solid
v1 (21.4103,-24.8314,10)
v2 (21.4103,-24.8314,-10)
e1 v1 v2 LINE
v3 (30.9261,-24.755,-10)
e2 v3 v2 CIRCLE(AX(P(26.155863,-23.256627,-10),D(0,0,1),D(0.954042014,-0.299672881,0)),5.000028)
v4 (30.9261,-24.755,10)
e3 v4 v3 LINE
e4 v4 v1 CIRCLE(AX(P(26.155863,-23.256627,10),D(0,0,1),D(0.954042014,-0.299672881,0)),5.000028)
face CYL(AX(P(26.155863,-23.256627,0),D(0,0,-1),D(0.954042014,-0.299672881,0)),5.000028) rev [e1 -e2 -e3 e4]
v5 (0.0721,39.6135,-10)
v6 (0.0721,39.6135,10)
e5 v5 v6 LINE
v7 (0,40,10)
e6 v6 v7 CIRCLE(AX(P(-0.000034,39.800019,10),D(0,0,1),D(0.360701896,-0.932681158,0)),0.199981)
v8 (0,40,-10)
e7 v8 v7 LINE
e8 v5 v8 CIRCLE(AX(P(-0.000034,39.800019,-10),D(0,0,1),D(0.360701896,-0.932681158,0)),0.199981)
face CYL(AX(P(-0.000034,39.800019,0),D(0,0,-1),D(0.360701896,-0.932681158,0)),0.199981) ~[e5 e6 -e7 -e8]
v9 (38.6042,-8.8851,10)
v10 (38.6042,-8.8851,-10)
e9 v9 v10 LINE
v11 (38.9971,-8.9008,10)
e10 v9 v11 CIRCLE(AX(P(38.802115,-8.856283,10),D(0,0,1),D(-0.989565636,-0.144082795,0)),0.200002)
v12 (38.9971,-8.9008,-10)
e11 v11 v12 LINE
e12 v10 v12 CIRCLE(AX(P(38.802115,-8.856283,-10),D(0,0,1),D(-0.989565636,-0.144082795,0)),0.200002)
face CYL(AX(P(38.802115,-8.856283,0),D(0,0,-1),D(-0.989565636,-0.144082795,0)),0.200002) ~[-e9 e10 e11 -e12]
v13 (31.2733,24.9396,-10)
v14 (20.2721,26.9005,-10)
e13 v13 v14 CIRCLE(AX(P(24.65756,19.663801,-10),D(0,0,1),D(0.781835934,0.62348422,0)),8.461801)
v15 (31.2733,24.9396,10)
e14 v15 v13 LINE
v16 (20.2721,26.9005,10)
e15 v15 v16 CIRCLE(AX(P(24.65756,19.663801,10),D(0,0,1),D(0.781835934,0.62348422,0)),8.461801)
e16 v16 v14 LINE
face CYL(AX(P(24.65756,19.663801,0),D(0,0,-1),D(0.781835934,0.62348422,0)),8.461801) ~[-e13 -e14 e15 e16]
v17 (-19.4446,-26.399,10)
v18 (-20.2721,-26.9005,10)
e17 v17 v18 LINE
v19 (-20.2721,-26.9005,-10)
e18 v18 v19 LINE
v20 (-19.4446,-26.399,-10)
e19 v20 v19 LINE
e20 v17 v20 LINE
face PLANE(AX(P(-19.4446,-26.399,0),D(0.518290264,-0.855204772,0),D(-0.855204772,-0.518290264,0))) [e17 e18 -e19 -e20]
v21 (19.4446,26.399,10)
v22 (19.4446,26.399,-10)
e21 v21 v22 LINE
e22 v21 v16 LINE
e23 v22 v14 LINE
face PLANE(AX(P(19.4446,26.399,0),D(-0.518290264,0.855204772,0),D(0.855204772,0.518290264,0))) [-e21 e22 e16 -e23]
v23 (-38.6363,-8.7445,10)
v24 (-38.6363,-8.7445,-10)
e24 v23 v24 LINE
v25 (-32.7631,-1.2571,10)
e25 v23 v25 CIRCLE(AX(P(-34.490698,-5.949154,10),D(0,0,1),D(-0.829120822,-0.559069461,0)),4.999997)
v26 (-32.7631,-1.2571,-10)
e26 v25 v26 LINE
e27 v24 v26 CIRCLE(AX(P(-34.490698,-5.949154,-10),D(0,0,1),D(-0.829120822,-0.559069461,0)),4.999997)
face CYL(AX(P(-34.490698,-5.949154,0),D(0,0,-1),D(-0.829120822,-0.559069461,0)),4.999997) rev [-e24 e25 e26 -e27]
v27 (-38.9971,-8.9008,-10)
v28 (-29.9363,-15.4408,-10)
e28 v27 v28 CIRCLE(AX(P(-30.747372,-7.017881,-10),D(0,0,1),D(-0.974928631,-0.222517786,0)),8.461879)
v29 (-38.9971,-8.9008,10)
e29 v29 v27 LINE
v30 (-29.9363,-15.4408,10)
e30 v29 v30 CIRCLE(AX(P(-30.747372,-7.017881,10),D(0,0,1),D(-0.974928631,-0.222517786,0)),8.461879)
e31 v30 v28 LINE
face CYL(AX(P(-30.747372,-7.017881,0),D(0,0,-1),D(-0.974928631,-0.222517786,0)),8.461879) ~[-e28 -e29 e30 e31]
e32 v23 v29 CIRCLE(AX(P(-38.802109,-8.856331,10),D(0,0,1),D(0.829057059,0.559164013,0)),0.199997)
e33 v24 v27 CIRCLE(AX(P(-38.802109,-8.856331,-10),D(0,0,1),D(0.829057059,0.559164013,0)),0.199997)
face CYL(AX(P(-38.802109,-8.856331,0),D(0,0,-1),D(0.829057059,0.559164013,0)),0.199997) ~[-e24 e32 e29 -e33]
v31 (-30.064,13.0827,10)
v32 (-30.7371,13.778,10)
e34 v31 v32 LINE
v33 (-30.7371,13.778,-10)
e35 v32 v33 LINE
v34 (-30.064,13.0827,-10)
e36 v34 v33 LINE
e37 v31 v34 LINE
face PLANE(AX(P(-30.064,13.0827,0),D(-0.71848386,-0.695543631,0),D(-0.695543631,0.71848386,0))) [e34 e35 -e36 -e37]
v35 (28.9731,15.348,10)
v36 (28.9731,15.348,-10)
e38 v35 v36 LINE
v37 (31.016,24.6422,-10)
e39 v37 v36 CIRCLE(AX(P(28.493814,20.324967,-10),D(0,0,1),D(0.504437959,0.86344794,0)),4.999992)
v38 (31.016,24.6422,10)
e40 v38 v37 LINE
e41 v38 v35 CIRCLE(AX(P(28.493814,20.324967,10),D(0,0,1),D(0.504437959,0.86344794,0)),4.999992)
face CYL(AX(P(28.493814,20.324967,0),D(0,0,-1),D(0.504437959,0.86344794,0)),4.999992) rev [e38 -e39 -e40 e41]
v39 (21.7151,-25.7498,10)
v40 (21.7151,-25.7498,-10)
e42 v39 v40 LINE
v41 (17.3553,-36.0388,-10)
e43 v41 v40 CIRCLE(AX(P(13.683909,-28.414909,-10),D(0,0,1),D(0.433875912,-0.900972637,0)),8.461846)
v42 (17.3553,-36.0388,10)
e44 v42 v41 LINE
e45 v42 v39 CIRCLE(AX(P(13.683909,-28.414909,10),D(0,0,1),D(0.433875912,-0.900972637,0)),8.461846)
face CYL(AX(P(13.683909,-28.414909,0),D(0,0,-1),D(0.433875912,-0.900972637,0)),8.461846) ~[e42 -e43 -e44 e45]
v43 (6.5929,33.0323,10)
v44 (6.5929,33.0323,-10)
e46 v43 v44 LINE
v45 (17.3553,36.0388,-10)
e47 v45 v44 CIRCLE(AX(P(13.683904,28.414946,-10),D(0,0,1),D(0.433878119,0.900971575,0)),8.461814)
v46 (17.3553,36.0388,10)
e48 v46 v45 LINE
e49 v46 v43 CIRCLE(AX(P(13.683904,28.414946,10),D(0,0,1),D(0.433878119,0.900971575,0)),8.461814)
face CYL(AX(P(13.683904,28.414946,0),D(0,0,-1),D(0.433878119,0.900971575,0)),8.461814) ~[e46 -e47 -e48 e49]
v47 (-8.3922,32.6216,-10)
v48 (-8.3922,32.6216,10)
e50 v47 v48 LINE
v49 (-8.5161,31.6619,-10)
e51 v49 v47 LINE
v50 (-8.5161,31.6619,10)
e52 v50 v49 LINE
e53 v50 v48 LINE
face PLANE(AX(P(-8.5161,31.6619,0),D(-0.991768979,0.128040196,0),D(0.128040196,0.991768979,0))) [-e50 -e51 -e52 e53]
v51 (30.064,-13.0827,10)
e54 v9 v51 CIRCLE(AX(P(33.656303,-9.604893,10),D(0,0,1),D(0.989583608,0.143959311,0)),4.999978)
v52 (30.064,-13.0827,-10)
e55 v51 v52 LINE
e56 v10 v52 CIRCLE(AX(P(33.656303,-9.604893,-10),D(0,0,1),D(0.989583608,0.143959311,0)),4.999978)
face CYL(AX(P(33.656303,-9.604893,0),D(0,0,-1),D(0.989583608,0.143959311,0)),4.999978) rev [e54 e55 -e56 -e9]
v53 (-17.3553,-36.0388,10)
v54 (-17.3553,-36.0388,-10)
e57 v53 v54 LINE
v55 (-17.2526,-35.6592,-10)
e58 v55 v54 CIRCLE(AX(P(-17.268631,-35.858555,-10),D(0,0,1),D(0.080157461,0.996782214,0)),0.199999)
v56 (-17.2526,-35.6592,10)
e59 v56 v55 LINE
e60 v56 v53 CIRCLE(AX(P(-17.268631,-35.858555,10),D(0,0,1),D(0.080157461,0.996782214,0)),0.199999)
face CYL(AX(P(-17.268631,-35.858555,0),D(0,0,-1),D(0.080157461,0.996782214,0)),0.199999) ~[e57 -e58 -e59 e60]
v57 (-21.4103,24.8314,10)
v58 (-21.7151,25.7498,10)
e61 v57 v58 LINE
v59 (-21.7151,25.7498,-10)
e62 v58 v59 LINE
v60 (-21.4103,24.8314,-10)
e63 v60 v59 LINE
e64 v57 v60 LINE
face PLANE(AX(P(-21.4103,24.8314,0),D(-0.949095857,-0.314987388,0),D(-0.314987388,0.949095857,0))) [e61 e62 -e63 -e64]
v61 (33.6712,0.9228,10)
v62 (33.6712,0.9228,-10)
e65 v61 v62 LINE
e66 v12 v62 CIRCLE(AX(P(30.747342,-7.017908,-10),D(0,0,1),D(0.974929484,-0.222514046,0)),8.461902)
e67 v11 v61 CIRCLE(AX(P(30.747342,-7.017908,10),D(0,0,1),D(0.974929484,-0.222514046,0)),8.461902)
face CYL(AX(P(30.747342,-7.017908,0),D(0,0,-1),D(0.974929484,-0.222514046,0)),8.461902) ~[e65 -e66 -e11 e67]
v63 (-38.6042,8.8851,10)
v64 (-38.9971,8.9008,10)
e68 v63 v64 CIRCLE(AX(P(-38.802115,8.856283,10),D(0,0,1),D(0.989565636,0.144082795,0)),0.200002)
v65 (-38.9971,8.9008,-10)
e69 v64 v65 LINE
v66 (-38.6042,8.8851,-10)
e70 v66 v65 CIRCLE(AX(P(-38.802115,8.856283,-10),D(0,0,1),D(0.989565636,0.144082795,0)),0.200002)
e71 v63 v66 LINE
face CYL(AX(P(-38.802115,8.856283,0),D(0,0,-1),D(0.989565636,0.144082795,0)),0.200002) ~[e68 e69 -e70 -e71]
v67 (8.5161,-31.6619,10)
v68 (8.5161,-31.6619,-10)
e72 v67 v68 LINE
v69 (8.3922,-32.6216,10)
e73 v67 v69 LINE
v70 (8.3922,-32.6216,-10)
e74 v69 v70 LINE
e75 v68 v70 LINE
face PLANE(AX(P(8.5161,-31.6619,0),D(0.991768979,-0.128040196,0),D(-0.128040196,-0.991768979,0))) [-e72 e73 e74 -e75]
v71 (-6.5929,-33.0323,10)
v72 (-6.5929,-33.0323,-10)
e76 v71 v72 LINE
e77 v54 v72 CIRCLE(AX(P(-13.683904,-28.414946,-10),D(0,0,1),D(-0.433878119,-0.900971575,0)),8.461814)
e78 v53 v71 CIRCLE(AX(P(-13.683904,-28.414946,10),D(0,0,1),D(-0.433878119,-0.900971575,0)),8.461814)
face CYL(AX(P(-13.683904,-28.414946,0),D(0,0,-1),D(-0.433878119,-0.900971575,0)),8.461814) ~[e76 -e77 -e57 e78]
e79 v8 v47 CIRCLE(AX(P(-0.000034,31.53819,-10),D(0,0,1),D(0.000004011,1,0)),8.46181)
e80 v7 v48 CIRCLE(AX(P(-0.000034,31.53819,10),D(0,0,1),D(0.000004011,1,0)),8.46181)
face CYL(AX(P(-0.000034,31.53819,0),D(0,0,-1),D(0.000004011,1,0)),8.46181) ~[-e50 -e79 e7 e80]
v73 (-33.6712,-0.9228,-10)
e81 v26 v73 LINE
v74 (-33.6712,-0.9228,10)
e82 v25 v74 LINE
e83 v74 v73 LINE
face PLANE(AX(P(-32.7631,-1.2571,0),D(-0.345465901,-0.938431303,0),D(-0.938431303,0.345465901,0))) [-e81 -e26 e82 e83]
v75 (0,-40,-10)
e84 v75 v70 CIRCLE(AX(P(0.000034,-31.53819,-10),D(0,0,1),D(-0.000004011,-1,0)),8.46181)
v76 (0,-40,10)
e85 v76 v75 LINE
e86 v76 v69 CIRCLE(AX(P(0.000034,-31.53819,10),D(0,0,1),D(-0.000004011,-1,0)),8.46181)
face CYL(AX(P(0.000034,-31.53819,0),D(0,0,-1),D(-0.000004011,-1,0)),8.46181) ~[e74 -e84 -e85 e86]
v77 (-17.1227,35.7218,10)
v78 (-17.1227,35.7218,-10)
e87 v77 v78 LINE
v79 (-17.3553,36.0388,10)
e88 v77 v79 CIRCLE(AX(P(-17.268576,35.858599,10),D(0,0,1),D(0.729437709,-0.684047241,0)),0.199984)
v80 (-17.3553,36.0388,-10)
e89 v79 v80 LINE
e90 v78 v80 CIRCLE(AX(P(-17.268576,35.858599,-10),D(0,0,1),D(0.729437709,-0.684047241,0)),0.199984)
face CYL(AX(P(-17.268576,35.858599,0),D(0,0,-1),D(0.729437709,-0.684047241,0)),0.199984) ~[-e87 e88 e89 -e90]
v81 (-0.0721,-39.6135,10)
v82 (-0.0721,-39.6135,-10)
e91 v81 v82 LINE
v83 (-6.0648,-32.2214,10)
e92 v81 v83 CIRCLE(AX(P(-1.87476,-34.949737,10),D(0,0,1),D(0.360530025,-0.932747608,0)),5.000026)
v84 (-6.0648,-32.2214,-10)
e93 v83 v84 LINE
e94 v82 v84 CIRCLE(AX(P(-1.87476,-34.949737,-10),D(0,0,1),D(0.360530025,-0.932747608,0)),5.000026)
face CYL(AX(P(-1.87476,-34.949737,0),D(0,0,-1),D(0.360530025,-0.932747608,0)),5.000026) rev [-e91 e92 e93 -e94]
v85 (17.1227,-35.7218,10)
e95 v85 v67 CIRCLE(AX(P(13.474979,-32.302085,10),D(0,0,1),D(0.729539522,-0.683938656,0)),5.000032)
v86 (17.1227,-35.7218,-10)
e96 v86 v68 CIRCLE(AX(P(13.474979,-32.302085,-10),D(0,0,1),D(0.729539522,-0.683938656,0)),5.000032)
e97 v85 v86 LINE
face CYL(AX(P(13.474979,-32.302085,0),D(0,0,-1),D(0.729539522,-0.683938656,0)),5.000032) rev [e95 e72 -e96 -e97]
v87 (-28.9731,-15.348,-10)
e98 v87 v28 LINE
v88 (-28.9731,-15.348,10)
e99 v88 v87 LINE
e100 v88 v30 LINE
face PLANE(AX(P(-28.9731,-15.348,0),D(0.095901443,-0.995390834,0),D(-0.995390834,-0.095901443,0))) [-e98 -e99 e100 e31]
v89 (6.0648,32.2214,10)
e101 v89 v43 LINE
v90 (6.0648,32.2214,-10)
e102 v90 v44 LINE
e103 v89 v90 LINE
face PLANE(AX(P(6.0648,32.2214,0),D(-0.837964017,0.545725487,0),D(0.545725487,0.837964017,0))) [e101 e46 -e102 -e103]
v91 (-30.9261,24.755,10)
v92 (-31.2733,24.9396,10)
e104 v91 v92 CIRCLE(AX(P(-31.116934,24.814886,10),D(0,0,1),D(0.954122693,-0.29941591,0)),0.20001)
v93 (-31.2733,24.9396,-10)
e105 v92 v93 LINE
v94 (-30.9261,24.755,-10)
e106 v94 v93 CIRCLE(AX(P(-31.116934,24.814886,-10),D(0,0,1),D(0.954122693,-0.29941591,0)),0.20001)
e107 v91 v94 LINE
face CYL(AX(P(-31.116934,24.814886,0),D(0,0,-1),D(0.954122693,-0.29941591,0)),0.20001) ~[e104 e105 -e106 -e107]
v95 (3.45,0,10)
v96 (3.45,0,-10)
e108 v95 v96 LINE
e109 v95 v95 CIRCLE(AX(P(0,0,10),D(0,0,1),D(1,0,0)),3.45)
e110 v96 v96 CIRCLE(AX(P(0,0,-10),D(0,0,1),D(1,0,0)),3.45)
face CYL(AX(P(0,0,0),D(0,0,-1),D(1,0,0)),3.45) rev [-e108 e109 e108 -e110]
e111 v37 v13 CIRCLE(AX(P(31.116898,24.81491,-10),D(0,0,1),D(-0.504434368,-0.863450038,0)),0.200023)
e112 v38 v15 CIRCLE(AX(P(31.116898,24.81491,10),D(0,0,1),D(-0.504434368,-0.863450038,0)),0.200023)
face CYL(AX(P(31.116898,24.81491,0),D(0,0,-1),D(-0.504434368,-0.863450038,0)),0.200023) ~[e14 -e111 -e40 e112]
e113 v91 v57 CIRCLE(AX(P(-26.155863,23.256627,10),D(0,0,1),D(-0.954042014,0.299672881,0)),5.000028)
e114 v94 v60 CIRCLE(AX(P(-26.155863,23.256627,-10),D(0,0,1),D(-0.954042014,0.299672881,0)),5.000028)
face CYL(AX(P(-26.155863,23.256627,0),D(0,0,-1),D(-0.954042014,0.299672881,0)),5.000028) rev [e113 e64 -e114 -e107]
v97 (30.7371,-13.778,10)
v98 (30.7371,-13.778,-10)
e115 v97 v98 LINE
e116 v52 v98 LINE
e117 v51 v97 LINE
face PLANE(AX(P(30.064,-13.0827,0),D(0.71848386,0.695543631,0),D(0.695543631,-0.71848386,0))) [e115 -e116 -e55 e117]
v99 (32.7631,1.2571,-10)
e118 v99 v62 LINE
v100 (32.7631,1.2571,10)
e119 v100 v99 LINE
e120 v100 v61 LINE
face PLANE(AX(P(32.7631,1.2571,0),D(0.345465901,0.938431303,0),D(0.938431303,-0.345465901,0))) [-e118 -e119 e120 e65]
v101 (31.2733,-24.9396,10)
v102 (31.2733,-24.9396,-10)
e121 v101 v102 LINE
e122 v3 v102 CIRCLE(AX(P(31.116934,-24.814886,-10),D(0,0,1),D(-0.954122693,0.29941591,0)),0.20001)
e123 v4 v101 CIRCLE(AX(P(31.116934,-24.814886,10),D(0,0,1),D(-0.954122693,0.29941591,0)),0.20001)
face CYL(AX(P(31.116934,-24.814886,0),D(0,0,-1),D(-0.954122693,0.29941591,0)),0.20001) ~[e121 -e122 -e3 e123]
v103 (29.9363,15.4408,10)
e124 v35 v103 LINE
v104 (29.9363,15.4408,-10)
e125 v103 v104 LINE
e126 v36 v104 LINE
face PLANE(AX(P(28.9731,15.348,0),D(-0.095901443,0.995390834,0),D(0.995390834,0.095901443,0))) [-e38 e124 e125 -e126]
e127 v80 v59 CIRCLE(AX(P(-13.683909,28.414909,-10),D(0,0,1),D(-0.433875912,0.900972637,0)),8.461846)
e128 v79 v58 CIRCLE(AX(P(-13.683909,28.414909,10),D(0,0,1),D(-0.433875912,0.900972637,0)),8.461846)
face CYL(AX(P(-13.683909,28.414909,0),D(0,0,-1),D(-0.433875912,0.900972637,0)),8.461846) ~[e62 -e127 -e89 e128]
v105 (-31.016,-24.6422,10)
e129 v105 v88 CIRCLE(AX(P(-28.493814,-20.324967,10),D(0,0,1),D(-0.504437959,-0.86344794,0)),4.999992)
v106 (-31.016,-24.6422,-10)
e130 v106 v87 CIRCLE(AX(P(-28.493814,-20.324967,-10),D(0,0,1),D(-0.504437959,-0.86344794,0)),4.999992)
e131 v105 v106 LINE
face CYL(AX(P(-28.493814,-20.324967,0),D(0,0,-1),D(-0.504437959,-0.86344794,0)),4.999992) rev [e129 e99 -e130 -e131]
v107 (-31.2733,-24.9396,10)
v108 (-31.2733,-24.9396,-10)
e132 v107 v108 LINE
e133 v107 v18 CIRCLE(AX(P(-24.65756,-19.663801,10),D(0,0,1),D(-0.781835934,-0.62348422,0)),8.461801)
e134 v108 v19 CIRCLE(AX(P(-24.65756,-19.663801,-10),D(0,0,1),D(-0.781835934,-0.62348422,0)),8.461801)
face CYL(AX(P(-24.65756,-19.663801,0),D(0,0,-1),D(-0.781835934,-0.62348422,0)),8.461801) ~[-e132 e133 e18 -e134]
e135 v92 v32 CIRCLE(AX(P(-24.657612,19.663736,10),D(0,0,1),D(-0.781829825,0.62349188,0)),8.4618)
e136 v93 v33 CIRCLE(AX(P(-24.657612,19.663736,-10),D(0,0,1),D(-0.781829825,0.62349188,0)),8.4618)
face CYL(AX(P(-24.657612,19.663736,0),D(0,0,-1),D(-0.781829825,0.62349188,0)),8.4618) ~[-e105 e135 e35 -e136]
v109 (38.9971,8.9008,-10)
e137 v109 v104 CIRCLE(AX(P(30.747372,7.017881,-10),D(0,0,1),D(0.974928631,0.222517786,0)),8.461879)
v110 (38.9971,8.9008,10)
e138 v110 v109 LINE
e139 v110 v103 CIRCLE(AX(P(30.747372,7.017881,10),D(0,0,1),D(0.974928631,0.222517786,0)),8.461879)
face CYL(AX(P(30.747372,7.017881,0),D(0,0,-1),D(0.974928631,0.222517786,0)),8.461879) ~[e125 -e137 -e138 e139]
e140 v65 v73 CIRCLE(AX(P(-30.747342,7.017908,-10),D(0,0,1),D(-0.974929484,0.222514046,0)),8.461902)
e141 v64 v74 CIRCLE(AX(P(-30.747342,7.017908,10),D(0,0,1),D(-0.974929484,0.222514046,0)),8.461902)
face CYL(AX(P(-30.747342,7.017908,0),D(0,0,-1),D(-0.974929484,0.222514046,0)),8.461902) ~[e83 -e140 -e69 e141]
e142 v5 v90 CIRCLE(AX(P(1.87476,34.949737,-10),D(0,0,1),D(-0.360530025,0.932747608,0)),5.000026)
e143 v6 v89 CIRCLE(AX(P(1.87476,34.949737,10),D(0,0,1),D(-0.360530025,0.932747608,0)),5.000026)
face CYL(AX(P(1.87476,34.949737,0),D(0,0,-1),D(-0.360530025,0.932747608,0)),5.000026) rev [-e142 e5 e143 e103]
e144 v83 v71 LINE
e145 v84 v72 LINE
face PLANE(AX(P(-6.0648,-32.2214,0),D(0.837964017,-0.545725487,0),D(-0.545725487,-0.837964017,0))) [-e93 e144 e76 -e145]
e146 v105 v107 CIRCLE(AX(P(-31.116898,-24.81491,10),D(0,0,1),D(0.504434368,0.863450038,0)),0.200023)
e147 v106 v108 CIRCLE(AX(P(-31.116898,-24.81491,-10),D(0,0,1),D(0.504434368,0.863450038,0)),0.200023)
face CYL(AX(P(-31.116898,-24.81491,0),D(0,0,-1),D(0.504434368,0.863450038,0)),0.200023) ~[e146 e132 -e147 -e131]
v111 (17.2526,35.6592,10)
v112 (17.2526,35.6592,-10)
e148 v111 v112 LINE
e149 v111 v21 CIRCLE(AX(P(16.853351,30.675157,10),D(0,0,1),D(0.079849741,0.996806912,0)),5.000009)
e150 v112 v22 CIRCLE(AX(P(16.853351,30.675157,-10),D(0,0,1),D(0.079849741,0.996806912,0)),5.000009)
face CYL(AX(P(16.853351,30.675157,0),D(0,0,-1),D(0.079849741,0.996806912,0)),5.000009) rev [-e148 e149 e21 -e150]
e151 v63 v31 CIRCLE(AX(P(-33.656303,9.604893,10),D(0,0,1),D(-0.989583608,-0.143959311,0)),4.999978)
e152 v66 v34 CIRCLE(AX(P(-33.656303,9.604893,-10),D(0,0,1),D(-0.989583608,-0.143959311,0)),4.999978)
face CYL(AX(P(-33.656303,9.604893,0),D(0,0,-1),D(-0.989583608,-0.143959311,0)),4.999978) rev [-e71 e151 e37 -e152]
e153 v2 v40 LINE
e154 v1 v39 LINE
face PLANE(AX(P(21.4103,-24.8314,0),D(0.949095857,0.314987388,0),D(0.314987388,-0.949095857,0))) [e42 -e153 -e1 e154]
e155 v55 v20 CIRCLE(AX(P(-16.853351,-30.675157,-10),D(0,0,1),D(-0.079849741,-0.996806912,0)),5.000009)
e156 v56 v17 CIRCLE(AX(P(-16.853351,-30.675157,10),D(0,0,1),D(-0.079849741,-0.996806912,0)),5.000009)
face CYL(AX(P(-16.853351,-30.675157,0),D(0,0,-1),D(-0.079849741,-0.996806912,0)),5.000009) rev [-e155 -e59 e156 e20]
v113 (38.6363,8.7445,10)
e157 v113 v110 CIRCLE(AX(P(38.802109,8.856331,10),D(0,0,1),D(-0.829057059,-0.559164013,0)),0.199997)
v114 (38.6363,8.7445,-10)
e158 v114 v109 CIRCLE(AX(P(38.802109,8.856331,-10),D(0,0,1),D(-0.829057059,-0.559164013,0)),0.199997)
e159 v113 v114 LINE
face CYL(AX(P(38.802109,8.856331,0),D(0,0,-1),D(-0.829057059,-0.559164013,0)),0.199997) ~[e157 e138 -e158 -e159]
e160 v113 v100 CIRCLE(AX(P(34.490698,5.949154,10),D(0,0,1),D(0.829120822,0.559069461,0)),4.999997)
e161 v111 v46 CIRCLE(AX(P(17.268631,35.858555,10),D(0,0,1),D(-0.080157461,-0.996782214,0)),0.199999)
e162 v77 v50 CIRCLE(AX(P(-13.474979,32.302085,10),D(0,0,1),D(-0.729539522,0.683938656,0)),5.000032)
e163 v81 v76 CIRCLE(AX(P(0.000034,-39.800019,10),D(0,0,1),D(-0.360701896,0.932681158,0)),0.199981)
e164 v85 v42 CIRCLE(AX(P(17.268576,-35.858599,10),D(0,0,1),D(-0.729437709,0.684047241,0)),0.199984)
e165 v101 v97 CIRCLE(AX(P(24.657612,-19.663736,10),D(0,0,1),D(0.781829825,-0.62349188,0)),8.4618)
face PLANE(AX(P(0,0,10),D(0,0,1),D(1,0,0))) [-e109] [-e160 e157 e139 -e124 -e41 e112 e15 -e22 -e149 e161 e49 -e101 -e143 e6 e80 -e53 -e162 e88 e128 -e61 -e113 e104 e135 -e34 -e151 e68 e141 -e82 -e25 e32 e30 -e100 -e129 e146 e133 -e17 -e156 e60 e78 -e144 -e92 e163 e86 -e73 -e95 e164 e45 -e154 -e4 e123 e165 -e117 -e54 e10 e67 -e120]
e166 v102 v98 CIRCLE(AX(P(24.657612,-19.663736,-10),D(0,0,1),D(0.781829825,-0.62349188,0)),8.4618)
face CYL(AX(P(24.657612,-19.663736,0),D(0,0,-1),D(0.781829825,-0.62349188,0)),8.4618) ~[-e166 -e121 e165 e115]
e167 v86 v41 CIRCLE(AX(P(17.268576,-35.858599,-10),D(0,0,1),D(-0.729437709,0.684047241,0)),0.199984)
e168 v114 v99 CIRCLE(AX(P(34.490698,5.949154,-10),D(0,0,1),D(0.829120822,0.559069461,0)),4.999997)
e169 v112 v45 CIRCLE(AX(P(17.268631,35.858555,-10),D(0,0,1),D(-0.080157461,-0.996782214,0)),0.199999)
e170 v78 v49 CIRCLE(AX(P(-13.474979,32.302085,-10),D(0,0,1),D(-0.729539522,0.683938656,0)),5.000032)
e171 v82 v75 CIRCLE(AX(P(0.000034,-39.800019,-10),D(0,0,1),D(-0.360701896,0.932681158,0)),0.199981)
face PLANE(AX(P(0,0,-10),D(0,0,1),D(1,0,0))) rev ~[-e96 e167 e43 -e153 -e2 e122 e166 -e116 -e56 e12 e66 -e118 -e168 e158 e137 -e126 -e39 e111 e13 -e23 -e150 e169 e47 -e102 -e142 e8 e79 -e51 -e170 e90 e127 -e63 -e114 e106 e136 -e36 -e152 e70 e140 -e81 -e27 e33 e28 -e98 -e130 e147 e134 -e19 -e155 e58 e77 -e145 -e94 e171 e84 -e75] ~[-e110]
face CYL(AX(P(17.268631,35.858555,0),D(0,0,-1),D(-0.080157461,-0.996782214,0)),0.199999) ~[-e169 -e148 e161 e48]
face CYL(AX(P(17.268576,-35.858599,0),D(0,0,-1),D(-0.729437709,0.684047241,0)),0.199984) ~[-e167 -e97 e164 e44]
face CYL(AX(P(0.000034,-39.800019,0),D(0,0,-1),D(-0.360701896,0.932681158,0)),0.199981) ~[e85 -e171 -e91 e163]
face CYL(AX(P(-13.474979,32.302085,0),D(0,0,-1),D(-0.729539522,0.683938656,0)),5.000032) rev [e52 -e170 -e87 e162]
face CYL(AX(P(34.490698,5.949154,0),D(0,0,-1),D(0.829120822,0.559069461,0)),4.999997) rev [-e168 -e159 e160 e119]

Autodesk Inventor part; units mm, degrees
ref_plane "YZ Plane" through (0, 0, 0) normal (1, 0, 0) x (0, 1, 0)
ref_plane "XZ Plane" through (0, 0, 0) normal (0, 1, 0) x (-1, 0, 0)
ref_plane "XY Plane" through (0, 0, 0) normal (0, 0, 1) x (1, 0, 0)
sketch "Sketch1" plane through (0, 0, 0) normal (0, 0, 1) x (1, 0, 0)
  circle A0 centre (0, 0) radius 40 construction
  circle A1 centre (0, 0) radius 30 construction
  arc A2 (0.0721, 39.6135) -> (0, 40) centre (0, 39.8) ccw
  arc A3 (0.0721, 39.6135) -> (6.0648, 32.2214) centre (1.8749, 34.9497) ccw
  line L0 (6.0648, 32.2214) -> (6.5929, 33.0323)
  line L1 (1.607, 29.9569) -> (7.607, 29.6351) construction
  arc A4 (0, 40) -> (-8.3922, 32.6216) centre (0, 31.5381) ccw
  arc A5 (-17.1227, 35.7218) -> (-17.3553, 36.0388) centre (-17.2686, 35.8586) ccw
  arc A6 (-17.1227, 35.7218) -> (-8.5161, 31.6619) centre (-13.4749, 32.3021) ccw
  line L2 (-8.5161, 31.6619) -> (-8.3922, 32.6216)
  arc A7 (-17.3553, 36.0388) -> (-21.7151, 25.7498) centre (-13.6839, 28.4149) ccw
  arc A8 (-30.9261, 24.755) -> (-31.2733, 24.9396) centre (-31.1169, 24.8149) ccw
  arc A9 (-30.9261, 24.755) -> (-21.4103, 24.8314) centre (-26.1559, 23.2566) ccw
  line L3 (-21.4103, 24.8314) -> (-21.7151, 25.7498)
  arc A10 (-31.2733, 24.9396) -> (-30.7371, 13.778) centre (-24.6575, 19.6637) ccw
  arc A11 (-38.6042, 8.8851) -> (-38.9971, 8.9008) centre (-38.8021, 8.8563) ccw
  arc A12 (-38.6042, 8.8851) -> (-30.064, 13.0827) centre (-33.6563, 9.6049) ccw
  line L4 (-30.064, 13.0827) -> (-30.7371, 13.778)
  arc A13 (-38.9971, 8.9008) -> (-33.6712, -0.9228) centre (-30.7474, 7.0179) ccw
  arc A14 (-38.6363, -8.7445) -> (-38.9971, -8.9008) centre (-38.8021, -8.8563) ccw
  arc A15 (-38.6363, -8.7445) -> (-32.7631, -1.2571) centre (-34.4907, -5.9492) ccw
  line L5 (-32.7631, -1.2571) -> (-33.6712, -0.9228)
  arc A16 (-38.9971, -8.9008) -> (-29.9363, -15.4408) centre (-30.7474, -7.0179) ccw
  arc A17 (-31.016, -24.6422) -> (-31.2733, -24.9396) centre (-31.1169, -24.8149) ccw
  arc A18 (-31.016, -24.6422) -> (-28.9731, -15.348) centre (-28.4938, -20.325) ccw
  line L6 (-28.9731, -15.348) -> (-29.9363, -15.4408)
  arc A19 (-31.2733, -24.9396) -> (-20.2721, -26.9005) centre (-24.6575, -19.6637) ccw
  arc A20 (-17.2526, -35.6592) -> (-17.3553, -36.0388) centre (-17.2686, -35.8586) ccw
  arc A21 (-17.2526, -35.6592) -> (-19.4446, -26.399) centre (-16.8533, -30.6752) ccw
  line L7 (-19.4446, -26.399) -> (-20.2721, -26.9005)
  arc A22 (-17.3553, -36.0388) -> (-6.5929, -33.0323) centre (-13.6839, -28.4149) ccw
  arc A23 (-0.0721, -39.6135) -> (0, -40) centre (0, -39.8) ccw
  arc A24 (-0.0721, -39.6135) -> (-6.0648, -32.2214) centre (-1.8749, -34.9497) ccw
  line L8 (-6.0648, -32.2214) -> (-6.5929, -33.0323)
  arc A25 (0, -40) -> (8.3922, -32.6216) centre (0, -31.5381) ccw
  arc A26 (17.1227, -35.7218) -> (17.3553, -36.0388) centre (17.2686, -35.8586) ccw
  arc A27 (17.1227, -35.7218) -> (8.5161, -31.6619) centre (13.4749, -32.3021) ccw
  line L9 (8.5161, -31.6619) -> (8.3922, -32.6216)
  arc A28 (17.3553, -36.0388) -> (21.7151, -25.7498) centre (13.6839, -28.4149) ccw
  arc A29 (30.9261, -24.755) -> (31.2733, -24.9396) centre (31.1169, -24.8149) ccw
  arc A30 (30.9261, -24.755) -> (21.4103, -24.8314) centre (26.1559, -23.2566) ccw
  line L10 (21.4103, -24.8314) -> (21.7151, -25.7498)
  arc A31 (31.2733, -24.9396) -> (30.7371, -13.778) centre (24.6575, -19.6637) ccw
  arc A32 (38.6042, -8.8851) -> (38.9971, -8.9008) centre (38.8021, -8.8563) ccw
  arc A33 (38.6042, -8.8851) -> (30.064, -13.0827) centre (33.6563, -9.6049) ccw
  line L11 (30.064, -13.0827) -> (30.7371, -13.778)
  arc A34 (38.9971, -8.9008) -> (33.6712, 0.9228) centre (30.7474, -7.0179) ccw
  arc A35 (38.6363, 8.7445) -> (38.9971, 8.9008) centre (38.8021, 8.8563) ccw
  arc A36 (38.6363, 8.7445) -> (32.7631, 1.2571) centre (34.4907, 5.9492) ccw
  line L12 (32.7631, 1.2571) -> (33.6712, 0.9228)
  arc A37 (38.9971, 8.9008) -> (29.9363, 15.4408) centre (30.7474, 7.0179) ccw
  arc A38 (31.016, 24.6422) -> (31.2733, 24.9396) centre (31.1169, 24.8149) ccw
  arc A39 (31.016, 24.6422) -> (28.9731, 15.348) centre (28.4938, 20.325) ccw
  line L13 (28.9731, 15.348) -> (29.9363, 15.4408)
  arc A40 (31.2733, 24.9396) -> (20.2721, 26.9005) centre (24.6575, 19.6637) ccw
  arc A41 (17.2526, 35.6592) -> (17.3553, 36.0388) centre (17.2686, 35.8586) ccw
  arc A42 (17.2526, 35.6592) -> (19.4446, 26.399) centre (16.8533, 30.6752) ccw
  line L14 (19.4446, 26.399) -> (20.2721, 26.9005)
  arc A43 (17.3553, 36.0388) -> (6.5929, 33.0323) centre (13.6839, 28.4149) ccw
  circle A44 centre (0, 0) radius 3.45
  point P0 (-11.55, 27.6875)
  point P1 (-22.4193, 19.9343)
  point P2 (-28.8483, 8.2328)
  point P3 (-29.5634, -5.0993)
  point P4 (-24.4232, -17.4214)
  point P5 (-14.4457, -26.293)
  point P6 (-1.607, -29.9569)
  point P7 (11.55, -27.6875)
  point P8 (22.4193, -19.9343)
  point P9 (28.8483, -8.2328)
  point P10 (29.5634, 5.0993)
  point P11 (24.4232, 17.4214)
  point P12 (14.4457, 26.293)
  point P13 (-8.3922, 32.6216)
  point P14 (-21.7151, 25.7498)
  point P15 (-30.7371, 13.778)
  point P16 (-33.6712, -0.9228)
  point P17 (-29.9363, -15.4408)
  point P18 (-6.5929, -33.0323)
  point P19 (8.3922, -32.6216)
  point P20 (30.7371, -13.778)
  point P21 (33.6712, 0.9228)
  point P22 (29.9363, 15.4408)
  point P23 (20.2721, 26.9005)
  dimension "d14" = 60
  dimension "d6" = 80
  dimension "d16" = 0.2
  dimension "d22" = 5
  dimension "d23" = 60
  dimension "d28" = 6
  dimension "d31" = 360
  dimension "d33" = 6.9
extrude "Extrusion1" add sketch "Sketch1" along normal mid plane 20
properties part number "Turbine"
